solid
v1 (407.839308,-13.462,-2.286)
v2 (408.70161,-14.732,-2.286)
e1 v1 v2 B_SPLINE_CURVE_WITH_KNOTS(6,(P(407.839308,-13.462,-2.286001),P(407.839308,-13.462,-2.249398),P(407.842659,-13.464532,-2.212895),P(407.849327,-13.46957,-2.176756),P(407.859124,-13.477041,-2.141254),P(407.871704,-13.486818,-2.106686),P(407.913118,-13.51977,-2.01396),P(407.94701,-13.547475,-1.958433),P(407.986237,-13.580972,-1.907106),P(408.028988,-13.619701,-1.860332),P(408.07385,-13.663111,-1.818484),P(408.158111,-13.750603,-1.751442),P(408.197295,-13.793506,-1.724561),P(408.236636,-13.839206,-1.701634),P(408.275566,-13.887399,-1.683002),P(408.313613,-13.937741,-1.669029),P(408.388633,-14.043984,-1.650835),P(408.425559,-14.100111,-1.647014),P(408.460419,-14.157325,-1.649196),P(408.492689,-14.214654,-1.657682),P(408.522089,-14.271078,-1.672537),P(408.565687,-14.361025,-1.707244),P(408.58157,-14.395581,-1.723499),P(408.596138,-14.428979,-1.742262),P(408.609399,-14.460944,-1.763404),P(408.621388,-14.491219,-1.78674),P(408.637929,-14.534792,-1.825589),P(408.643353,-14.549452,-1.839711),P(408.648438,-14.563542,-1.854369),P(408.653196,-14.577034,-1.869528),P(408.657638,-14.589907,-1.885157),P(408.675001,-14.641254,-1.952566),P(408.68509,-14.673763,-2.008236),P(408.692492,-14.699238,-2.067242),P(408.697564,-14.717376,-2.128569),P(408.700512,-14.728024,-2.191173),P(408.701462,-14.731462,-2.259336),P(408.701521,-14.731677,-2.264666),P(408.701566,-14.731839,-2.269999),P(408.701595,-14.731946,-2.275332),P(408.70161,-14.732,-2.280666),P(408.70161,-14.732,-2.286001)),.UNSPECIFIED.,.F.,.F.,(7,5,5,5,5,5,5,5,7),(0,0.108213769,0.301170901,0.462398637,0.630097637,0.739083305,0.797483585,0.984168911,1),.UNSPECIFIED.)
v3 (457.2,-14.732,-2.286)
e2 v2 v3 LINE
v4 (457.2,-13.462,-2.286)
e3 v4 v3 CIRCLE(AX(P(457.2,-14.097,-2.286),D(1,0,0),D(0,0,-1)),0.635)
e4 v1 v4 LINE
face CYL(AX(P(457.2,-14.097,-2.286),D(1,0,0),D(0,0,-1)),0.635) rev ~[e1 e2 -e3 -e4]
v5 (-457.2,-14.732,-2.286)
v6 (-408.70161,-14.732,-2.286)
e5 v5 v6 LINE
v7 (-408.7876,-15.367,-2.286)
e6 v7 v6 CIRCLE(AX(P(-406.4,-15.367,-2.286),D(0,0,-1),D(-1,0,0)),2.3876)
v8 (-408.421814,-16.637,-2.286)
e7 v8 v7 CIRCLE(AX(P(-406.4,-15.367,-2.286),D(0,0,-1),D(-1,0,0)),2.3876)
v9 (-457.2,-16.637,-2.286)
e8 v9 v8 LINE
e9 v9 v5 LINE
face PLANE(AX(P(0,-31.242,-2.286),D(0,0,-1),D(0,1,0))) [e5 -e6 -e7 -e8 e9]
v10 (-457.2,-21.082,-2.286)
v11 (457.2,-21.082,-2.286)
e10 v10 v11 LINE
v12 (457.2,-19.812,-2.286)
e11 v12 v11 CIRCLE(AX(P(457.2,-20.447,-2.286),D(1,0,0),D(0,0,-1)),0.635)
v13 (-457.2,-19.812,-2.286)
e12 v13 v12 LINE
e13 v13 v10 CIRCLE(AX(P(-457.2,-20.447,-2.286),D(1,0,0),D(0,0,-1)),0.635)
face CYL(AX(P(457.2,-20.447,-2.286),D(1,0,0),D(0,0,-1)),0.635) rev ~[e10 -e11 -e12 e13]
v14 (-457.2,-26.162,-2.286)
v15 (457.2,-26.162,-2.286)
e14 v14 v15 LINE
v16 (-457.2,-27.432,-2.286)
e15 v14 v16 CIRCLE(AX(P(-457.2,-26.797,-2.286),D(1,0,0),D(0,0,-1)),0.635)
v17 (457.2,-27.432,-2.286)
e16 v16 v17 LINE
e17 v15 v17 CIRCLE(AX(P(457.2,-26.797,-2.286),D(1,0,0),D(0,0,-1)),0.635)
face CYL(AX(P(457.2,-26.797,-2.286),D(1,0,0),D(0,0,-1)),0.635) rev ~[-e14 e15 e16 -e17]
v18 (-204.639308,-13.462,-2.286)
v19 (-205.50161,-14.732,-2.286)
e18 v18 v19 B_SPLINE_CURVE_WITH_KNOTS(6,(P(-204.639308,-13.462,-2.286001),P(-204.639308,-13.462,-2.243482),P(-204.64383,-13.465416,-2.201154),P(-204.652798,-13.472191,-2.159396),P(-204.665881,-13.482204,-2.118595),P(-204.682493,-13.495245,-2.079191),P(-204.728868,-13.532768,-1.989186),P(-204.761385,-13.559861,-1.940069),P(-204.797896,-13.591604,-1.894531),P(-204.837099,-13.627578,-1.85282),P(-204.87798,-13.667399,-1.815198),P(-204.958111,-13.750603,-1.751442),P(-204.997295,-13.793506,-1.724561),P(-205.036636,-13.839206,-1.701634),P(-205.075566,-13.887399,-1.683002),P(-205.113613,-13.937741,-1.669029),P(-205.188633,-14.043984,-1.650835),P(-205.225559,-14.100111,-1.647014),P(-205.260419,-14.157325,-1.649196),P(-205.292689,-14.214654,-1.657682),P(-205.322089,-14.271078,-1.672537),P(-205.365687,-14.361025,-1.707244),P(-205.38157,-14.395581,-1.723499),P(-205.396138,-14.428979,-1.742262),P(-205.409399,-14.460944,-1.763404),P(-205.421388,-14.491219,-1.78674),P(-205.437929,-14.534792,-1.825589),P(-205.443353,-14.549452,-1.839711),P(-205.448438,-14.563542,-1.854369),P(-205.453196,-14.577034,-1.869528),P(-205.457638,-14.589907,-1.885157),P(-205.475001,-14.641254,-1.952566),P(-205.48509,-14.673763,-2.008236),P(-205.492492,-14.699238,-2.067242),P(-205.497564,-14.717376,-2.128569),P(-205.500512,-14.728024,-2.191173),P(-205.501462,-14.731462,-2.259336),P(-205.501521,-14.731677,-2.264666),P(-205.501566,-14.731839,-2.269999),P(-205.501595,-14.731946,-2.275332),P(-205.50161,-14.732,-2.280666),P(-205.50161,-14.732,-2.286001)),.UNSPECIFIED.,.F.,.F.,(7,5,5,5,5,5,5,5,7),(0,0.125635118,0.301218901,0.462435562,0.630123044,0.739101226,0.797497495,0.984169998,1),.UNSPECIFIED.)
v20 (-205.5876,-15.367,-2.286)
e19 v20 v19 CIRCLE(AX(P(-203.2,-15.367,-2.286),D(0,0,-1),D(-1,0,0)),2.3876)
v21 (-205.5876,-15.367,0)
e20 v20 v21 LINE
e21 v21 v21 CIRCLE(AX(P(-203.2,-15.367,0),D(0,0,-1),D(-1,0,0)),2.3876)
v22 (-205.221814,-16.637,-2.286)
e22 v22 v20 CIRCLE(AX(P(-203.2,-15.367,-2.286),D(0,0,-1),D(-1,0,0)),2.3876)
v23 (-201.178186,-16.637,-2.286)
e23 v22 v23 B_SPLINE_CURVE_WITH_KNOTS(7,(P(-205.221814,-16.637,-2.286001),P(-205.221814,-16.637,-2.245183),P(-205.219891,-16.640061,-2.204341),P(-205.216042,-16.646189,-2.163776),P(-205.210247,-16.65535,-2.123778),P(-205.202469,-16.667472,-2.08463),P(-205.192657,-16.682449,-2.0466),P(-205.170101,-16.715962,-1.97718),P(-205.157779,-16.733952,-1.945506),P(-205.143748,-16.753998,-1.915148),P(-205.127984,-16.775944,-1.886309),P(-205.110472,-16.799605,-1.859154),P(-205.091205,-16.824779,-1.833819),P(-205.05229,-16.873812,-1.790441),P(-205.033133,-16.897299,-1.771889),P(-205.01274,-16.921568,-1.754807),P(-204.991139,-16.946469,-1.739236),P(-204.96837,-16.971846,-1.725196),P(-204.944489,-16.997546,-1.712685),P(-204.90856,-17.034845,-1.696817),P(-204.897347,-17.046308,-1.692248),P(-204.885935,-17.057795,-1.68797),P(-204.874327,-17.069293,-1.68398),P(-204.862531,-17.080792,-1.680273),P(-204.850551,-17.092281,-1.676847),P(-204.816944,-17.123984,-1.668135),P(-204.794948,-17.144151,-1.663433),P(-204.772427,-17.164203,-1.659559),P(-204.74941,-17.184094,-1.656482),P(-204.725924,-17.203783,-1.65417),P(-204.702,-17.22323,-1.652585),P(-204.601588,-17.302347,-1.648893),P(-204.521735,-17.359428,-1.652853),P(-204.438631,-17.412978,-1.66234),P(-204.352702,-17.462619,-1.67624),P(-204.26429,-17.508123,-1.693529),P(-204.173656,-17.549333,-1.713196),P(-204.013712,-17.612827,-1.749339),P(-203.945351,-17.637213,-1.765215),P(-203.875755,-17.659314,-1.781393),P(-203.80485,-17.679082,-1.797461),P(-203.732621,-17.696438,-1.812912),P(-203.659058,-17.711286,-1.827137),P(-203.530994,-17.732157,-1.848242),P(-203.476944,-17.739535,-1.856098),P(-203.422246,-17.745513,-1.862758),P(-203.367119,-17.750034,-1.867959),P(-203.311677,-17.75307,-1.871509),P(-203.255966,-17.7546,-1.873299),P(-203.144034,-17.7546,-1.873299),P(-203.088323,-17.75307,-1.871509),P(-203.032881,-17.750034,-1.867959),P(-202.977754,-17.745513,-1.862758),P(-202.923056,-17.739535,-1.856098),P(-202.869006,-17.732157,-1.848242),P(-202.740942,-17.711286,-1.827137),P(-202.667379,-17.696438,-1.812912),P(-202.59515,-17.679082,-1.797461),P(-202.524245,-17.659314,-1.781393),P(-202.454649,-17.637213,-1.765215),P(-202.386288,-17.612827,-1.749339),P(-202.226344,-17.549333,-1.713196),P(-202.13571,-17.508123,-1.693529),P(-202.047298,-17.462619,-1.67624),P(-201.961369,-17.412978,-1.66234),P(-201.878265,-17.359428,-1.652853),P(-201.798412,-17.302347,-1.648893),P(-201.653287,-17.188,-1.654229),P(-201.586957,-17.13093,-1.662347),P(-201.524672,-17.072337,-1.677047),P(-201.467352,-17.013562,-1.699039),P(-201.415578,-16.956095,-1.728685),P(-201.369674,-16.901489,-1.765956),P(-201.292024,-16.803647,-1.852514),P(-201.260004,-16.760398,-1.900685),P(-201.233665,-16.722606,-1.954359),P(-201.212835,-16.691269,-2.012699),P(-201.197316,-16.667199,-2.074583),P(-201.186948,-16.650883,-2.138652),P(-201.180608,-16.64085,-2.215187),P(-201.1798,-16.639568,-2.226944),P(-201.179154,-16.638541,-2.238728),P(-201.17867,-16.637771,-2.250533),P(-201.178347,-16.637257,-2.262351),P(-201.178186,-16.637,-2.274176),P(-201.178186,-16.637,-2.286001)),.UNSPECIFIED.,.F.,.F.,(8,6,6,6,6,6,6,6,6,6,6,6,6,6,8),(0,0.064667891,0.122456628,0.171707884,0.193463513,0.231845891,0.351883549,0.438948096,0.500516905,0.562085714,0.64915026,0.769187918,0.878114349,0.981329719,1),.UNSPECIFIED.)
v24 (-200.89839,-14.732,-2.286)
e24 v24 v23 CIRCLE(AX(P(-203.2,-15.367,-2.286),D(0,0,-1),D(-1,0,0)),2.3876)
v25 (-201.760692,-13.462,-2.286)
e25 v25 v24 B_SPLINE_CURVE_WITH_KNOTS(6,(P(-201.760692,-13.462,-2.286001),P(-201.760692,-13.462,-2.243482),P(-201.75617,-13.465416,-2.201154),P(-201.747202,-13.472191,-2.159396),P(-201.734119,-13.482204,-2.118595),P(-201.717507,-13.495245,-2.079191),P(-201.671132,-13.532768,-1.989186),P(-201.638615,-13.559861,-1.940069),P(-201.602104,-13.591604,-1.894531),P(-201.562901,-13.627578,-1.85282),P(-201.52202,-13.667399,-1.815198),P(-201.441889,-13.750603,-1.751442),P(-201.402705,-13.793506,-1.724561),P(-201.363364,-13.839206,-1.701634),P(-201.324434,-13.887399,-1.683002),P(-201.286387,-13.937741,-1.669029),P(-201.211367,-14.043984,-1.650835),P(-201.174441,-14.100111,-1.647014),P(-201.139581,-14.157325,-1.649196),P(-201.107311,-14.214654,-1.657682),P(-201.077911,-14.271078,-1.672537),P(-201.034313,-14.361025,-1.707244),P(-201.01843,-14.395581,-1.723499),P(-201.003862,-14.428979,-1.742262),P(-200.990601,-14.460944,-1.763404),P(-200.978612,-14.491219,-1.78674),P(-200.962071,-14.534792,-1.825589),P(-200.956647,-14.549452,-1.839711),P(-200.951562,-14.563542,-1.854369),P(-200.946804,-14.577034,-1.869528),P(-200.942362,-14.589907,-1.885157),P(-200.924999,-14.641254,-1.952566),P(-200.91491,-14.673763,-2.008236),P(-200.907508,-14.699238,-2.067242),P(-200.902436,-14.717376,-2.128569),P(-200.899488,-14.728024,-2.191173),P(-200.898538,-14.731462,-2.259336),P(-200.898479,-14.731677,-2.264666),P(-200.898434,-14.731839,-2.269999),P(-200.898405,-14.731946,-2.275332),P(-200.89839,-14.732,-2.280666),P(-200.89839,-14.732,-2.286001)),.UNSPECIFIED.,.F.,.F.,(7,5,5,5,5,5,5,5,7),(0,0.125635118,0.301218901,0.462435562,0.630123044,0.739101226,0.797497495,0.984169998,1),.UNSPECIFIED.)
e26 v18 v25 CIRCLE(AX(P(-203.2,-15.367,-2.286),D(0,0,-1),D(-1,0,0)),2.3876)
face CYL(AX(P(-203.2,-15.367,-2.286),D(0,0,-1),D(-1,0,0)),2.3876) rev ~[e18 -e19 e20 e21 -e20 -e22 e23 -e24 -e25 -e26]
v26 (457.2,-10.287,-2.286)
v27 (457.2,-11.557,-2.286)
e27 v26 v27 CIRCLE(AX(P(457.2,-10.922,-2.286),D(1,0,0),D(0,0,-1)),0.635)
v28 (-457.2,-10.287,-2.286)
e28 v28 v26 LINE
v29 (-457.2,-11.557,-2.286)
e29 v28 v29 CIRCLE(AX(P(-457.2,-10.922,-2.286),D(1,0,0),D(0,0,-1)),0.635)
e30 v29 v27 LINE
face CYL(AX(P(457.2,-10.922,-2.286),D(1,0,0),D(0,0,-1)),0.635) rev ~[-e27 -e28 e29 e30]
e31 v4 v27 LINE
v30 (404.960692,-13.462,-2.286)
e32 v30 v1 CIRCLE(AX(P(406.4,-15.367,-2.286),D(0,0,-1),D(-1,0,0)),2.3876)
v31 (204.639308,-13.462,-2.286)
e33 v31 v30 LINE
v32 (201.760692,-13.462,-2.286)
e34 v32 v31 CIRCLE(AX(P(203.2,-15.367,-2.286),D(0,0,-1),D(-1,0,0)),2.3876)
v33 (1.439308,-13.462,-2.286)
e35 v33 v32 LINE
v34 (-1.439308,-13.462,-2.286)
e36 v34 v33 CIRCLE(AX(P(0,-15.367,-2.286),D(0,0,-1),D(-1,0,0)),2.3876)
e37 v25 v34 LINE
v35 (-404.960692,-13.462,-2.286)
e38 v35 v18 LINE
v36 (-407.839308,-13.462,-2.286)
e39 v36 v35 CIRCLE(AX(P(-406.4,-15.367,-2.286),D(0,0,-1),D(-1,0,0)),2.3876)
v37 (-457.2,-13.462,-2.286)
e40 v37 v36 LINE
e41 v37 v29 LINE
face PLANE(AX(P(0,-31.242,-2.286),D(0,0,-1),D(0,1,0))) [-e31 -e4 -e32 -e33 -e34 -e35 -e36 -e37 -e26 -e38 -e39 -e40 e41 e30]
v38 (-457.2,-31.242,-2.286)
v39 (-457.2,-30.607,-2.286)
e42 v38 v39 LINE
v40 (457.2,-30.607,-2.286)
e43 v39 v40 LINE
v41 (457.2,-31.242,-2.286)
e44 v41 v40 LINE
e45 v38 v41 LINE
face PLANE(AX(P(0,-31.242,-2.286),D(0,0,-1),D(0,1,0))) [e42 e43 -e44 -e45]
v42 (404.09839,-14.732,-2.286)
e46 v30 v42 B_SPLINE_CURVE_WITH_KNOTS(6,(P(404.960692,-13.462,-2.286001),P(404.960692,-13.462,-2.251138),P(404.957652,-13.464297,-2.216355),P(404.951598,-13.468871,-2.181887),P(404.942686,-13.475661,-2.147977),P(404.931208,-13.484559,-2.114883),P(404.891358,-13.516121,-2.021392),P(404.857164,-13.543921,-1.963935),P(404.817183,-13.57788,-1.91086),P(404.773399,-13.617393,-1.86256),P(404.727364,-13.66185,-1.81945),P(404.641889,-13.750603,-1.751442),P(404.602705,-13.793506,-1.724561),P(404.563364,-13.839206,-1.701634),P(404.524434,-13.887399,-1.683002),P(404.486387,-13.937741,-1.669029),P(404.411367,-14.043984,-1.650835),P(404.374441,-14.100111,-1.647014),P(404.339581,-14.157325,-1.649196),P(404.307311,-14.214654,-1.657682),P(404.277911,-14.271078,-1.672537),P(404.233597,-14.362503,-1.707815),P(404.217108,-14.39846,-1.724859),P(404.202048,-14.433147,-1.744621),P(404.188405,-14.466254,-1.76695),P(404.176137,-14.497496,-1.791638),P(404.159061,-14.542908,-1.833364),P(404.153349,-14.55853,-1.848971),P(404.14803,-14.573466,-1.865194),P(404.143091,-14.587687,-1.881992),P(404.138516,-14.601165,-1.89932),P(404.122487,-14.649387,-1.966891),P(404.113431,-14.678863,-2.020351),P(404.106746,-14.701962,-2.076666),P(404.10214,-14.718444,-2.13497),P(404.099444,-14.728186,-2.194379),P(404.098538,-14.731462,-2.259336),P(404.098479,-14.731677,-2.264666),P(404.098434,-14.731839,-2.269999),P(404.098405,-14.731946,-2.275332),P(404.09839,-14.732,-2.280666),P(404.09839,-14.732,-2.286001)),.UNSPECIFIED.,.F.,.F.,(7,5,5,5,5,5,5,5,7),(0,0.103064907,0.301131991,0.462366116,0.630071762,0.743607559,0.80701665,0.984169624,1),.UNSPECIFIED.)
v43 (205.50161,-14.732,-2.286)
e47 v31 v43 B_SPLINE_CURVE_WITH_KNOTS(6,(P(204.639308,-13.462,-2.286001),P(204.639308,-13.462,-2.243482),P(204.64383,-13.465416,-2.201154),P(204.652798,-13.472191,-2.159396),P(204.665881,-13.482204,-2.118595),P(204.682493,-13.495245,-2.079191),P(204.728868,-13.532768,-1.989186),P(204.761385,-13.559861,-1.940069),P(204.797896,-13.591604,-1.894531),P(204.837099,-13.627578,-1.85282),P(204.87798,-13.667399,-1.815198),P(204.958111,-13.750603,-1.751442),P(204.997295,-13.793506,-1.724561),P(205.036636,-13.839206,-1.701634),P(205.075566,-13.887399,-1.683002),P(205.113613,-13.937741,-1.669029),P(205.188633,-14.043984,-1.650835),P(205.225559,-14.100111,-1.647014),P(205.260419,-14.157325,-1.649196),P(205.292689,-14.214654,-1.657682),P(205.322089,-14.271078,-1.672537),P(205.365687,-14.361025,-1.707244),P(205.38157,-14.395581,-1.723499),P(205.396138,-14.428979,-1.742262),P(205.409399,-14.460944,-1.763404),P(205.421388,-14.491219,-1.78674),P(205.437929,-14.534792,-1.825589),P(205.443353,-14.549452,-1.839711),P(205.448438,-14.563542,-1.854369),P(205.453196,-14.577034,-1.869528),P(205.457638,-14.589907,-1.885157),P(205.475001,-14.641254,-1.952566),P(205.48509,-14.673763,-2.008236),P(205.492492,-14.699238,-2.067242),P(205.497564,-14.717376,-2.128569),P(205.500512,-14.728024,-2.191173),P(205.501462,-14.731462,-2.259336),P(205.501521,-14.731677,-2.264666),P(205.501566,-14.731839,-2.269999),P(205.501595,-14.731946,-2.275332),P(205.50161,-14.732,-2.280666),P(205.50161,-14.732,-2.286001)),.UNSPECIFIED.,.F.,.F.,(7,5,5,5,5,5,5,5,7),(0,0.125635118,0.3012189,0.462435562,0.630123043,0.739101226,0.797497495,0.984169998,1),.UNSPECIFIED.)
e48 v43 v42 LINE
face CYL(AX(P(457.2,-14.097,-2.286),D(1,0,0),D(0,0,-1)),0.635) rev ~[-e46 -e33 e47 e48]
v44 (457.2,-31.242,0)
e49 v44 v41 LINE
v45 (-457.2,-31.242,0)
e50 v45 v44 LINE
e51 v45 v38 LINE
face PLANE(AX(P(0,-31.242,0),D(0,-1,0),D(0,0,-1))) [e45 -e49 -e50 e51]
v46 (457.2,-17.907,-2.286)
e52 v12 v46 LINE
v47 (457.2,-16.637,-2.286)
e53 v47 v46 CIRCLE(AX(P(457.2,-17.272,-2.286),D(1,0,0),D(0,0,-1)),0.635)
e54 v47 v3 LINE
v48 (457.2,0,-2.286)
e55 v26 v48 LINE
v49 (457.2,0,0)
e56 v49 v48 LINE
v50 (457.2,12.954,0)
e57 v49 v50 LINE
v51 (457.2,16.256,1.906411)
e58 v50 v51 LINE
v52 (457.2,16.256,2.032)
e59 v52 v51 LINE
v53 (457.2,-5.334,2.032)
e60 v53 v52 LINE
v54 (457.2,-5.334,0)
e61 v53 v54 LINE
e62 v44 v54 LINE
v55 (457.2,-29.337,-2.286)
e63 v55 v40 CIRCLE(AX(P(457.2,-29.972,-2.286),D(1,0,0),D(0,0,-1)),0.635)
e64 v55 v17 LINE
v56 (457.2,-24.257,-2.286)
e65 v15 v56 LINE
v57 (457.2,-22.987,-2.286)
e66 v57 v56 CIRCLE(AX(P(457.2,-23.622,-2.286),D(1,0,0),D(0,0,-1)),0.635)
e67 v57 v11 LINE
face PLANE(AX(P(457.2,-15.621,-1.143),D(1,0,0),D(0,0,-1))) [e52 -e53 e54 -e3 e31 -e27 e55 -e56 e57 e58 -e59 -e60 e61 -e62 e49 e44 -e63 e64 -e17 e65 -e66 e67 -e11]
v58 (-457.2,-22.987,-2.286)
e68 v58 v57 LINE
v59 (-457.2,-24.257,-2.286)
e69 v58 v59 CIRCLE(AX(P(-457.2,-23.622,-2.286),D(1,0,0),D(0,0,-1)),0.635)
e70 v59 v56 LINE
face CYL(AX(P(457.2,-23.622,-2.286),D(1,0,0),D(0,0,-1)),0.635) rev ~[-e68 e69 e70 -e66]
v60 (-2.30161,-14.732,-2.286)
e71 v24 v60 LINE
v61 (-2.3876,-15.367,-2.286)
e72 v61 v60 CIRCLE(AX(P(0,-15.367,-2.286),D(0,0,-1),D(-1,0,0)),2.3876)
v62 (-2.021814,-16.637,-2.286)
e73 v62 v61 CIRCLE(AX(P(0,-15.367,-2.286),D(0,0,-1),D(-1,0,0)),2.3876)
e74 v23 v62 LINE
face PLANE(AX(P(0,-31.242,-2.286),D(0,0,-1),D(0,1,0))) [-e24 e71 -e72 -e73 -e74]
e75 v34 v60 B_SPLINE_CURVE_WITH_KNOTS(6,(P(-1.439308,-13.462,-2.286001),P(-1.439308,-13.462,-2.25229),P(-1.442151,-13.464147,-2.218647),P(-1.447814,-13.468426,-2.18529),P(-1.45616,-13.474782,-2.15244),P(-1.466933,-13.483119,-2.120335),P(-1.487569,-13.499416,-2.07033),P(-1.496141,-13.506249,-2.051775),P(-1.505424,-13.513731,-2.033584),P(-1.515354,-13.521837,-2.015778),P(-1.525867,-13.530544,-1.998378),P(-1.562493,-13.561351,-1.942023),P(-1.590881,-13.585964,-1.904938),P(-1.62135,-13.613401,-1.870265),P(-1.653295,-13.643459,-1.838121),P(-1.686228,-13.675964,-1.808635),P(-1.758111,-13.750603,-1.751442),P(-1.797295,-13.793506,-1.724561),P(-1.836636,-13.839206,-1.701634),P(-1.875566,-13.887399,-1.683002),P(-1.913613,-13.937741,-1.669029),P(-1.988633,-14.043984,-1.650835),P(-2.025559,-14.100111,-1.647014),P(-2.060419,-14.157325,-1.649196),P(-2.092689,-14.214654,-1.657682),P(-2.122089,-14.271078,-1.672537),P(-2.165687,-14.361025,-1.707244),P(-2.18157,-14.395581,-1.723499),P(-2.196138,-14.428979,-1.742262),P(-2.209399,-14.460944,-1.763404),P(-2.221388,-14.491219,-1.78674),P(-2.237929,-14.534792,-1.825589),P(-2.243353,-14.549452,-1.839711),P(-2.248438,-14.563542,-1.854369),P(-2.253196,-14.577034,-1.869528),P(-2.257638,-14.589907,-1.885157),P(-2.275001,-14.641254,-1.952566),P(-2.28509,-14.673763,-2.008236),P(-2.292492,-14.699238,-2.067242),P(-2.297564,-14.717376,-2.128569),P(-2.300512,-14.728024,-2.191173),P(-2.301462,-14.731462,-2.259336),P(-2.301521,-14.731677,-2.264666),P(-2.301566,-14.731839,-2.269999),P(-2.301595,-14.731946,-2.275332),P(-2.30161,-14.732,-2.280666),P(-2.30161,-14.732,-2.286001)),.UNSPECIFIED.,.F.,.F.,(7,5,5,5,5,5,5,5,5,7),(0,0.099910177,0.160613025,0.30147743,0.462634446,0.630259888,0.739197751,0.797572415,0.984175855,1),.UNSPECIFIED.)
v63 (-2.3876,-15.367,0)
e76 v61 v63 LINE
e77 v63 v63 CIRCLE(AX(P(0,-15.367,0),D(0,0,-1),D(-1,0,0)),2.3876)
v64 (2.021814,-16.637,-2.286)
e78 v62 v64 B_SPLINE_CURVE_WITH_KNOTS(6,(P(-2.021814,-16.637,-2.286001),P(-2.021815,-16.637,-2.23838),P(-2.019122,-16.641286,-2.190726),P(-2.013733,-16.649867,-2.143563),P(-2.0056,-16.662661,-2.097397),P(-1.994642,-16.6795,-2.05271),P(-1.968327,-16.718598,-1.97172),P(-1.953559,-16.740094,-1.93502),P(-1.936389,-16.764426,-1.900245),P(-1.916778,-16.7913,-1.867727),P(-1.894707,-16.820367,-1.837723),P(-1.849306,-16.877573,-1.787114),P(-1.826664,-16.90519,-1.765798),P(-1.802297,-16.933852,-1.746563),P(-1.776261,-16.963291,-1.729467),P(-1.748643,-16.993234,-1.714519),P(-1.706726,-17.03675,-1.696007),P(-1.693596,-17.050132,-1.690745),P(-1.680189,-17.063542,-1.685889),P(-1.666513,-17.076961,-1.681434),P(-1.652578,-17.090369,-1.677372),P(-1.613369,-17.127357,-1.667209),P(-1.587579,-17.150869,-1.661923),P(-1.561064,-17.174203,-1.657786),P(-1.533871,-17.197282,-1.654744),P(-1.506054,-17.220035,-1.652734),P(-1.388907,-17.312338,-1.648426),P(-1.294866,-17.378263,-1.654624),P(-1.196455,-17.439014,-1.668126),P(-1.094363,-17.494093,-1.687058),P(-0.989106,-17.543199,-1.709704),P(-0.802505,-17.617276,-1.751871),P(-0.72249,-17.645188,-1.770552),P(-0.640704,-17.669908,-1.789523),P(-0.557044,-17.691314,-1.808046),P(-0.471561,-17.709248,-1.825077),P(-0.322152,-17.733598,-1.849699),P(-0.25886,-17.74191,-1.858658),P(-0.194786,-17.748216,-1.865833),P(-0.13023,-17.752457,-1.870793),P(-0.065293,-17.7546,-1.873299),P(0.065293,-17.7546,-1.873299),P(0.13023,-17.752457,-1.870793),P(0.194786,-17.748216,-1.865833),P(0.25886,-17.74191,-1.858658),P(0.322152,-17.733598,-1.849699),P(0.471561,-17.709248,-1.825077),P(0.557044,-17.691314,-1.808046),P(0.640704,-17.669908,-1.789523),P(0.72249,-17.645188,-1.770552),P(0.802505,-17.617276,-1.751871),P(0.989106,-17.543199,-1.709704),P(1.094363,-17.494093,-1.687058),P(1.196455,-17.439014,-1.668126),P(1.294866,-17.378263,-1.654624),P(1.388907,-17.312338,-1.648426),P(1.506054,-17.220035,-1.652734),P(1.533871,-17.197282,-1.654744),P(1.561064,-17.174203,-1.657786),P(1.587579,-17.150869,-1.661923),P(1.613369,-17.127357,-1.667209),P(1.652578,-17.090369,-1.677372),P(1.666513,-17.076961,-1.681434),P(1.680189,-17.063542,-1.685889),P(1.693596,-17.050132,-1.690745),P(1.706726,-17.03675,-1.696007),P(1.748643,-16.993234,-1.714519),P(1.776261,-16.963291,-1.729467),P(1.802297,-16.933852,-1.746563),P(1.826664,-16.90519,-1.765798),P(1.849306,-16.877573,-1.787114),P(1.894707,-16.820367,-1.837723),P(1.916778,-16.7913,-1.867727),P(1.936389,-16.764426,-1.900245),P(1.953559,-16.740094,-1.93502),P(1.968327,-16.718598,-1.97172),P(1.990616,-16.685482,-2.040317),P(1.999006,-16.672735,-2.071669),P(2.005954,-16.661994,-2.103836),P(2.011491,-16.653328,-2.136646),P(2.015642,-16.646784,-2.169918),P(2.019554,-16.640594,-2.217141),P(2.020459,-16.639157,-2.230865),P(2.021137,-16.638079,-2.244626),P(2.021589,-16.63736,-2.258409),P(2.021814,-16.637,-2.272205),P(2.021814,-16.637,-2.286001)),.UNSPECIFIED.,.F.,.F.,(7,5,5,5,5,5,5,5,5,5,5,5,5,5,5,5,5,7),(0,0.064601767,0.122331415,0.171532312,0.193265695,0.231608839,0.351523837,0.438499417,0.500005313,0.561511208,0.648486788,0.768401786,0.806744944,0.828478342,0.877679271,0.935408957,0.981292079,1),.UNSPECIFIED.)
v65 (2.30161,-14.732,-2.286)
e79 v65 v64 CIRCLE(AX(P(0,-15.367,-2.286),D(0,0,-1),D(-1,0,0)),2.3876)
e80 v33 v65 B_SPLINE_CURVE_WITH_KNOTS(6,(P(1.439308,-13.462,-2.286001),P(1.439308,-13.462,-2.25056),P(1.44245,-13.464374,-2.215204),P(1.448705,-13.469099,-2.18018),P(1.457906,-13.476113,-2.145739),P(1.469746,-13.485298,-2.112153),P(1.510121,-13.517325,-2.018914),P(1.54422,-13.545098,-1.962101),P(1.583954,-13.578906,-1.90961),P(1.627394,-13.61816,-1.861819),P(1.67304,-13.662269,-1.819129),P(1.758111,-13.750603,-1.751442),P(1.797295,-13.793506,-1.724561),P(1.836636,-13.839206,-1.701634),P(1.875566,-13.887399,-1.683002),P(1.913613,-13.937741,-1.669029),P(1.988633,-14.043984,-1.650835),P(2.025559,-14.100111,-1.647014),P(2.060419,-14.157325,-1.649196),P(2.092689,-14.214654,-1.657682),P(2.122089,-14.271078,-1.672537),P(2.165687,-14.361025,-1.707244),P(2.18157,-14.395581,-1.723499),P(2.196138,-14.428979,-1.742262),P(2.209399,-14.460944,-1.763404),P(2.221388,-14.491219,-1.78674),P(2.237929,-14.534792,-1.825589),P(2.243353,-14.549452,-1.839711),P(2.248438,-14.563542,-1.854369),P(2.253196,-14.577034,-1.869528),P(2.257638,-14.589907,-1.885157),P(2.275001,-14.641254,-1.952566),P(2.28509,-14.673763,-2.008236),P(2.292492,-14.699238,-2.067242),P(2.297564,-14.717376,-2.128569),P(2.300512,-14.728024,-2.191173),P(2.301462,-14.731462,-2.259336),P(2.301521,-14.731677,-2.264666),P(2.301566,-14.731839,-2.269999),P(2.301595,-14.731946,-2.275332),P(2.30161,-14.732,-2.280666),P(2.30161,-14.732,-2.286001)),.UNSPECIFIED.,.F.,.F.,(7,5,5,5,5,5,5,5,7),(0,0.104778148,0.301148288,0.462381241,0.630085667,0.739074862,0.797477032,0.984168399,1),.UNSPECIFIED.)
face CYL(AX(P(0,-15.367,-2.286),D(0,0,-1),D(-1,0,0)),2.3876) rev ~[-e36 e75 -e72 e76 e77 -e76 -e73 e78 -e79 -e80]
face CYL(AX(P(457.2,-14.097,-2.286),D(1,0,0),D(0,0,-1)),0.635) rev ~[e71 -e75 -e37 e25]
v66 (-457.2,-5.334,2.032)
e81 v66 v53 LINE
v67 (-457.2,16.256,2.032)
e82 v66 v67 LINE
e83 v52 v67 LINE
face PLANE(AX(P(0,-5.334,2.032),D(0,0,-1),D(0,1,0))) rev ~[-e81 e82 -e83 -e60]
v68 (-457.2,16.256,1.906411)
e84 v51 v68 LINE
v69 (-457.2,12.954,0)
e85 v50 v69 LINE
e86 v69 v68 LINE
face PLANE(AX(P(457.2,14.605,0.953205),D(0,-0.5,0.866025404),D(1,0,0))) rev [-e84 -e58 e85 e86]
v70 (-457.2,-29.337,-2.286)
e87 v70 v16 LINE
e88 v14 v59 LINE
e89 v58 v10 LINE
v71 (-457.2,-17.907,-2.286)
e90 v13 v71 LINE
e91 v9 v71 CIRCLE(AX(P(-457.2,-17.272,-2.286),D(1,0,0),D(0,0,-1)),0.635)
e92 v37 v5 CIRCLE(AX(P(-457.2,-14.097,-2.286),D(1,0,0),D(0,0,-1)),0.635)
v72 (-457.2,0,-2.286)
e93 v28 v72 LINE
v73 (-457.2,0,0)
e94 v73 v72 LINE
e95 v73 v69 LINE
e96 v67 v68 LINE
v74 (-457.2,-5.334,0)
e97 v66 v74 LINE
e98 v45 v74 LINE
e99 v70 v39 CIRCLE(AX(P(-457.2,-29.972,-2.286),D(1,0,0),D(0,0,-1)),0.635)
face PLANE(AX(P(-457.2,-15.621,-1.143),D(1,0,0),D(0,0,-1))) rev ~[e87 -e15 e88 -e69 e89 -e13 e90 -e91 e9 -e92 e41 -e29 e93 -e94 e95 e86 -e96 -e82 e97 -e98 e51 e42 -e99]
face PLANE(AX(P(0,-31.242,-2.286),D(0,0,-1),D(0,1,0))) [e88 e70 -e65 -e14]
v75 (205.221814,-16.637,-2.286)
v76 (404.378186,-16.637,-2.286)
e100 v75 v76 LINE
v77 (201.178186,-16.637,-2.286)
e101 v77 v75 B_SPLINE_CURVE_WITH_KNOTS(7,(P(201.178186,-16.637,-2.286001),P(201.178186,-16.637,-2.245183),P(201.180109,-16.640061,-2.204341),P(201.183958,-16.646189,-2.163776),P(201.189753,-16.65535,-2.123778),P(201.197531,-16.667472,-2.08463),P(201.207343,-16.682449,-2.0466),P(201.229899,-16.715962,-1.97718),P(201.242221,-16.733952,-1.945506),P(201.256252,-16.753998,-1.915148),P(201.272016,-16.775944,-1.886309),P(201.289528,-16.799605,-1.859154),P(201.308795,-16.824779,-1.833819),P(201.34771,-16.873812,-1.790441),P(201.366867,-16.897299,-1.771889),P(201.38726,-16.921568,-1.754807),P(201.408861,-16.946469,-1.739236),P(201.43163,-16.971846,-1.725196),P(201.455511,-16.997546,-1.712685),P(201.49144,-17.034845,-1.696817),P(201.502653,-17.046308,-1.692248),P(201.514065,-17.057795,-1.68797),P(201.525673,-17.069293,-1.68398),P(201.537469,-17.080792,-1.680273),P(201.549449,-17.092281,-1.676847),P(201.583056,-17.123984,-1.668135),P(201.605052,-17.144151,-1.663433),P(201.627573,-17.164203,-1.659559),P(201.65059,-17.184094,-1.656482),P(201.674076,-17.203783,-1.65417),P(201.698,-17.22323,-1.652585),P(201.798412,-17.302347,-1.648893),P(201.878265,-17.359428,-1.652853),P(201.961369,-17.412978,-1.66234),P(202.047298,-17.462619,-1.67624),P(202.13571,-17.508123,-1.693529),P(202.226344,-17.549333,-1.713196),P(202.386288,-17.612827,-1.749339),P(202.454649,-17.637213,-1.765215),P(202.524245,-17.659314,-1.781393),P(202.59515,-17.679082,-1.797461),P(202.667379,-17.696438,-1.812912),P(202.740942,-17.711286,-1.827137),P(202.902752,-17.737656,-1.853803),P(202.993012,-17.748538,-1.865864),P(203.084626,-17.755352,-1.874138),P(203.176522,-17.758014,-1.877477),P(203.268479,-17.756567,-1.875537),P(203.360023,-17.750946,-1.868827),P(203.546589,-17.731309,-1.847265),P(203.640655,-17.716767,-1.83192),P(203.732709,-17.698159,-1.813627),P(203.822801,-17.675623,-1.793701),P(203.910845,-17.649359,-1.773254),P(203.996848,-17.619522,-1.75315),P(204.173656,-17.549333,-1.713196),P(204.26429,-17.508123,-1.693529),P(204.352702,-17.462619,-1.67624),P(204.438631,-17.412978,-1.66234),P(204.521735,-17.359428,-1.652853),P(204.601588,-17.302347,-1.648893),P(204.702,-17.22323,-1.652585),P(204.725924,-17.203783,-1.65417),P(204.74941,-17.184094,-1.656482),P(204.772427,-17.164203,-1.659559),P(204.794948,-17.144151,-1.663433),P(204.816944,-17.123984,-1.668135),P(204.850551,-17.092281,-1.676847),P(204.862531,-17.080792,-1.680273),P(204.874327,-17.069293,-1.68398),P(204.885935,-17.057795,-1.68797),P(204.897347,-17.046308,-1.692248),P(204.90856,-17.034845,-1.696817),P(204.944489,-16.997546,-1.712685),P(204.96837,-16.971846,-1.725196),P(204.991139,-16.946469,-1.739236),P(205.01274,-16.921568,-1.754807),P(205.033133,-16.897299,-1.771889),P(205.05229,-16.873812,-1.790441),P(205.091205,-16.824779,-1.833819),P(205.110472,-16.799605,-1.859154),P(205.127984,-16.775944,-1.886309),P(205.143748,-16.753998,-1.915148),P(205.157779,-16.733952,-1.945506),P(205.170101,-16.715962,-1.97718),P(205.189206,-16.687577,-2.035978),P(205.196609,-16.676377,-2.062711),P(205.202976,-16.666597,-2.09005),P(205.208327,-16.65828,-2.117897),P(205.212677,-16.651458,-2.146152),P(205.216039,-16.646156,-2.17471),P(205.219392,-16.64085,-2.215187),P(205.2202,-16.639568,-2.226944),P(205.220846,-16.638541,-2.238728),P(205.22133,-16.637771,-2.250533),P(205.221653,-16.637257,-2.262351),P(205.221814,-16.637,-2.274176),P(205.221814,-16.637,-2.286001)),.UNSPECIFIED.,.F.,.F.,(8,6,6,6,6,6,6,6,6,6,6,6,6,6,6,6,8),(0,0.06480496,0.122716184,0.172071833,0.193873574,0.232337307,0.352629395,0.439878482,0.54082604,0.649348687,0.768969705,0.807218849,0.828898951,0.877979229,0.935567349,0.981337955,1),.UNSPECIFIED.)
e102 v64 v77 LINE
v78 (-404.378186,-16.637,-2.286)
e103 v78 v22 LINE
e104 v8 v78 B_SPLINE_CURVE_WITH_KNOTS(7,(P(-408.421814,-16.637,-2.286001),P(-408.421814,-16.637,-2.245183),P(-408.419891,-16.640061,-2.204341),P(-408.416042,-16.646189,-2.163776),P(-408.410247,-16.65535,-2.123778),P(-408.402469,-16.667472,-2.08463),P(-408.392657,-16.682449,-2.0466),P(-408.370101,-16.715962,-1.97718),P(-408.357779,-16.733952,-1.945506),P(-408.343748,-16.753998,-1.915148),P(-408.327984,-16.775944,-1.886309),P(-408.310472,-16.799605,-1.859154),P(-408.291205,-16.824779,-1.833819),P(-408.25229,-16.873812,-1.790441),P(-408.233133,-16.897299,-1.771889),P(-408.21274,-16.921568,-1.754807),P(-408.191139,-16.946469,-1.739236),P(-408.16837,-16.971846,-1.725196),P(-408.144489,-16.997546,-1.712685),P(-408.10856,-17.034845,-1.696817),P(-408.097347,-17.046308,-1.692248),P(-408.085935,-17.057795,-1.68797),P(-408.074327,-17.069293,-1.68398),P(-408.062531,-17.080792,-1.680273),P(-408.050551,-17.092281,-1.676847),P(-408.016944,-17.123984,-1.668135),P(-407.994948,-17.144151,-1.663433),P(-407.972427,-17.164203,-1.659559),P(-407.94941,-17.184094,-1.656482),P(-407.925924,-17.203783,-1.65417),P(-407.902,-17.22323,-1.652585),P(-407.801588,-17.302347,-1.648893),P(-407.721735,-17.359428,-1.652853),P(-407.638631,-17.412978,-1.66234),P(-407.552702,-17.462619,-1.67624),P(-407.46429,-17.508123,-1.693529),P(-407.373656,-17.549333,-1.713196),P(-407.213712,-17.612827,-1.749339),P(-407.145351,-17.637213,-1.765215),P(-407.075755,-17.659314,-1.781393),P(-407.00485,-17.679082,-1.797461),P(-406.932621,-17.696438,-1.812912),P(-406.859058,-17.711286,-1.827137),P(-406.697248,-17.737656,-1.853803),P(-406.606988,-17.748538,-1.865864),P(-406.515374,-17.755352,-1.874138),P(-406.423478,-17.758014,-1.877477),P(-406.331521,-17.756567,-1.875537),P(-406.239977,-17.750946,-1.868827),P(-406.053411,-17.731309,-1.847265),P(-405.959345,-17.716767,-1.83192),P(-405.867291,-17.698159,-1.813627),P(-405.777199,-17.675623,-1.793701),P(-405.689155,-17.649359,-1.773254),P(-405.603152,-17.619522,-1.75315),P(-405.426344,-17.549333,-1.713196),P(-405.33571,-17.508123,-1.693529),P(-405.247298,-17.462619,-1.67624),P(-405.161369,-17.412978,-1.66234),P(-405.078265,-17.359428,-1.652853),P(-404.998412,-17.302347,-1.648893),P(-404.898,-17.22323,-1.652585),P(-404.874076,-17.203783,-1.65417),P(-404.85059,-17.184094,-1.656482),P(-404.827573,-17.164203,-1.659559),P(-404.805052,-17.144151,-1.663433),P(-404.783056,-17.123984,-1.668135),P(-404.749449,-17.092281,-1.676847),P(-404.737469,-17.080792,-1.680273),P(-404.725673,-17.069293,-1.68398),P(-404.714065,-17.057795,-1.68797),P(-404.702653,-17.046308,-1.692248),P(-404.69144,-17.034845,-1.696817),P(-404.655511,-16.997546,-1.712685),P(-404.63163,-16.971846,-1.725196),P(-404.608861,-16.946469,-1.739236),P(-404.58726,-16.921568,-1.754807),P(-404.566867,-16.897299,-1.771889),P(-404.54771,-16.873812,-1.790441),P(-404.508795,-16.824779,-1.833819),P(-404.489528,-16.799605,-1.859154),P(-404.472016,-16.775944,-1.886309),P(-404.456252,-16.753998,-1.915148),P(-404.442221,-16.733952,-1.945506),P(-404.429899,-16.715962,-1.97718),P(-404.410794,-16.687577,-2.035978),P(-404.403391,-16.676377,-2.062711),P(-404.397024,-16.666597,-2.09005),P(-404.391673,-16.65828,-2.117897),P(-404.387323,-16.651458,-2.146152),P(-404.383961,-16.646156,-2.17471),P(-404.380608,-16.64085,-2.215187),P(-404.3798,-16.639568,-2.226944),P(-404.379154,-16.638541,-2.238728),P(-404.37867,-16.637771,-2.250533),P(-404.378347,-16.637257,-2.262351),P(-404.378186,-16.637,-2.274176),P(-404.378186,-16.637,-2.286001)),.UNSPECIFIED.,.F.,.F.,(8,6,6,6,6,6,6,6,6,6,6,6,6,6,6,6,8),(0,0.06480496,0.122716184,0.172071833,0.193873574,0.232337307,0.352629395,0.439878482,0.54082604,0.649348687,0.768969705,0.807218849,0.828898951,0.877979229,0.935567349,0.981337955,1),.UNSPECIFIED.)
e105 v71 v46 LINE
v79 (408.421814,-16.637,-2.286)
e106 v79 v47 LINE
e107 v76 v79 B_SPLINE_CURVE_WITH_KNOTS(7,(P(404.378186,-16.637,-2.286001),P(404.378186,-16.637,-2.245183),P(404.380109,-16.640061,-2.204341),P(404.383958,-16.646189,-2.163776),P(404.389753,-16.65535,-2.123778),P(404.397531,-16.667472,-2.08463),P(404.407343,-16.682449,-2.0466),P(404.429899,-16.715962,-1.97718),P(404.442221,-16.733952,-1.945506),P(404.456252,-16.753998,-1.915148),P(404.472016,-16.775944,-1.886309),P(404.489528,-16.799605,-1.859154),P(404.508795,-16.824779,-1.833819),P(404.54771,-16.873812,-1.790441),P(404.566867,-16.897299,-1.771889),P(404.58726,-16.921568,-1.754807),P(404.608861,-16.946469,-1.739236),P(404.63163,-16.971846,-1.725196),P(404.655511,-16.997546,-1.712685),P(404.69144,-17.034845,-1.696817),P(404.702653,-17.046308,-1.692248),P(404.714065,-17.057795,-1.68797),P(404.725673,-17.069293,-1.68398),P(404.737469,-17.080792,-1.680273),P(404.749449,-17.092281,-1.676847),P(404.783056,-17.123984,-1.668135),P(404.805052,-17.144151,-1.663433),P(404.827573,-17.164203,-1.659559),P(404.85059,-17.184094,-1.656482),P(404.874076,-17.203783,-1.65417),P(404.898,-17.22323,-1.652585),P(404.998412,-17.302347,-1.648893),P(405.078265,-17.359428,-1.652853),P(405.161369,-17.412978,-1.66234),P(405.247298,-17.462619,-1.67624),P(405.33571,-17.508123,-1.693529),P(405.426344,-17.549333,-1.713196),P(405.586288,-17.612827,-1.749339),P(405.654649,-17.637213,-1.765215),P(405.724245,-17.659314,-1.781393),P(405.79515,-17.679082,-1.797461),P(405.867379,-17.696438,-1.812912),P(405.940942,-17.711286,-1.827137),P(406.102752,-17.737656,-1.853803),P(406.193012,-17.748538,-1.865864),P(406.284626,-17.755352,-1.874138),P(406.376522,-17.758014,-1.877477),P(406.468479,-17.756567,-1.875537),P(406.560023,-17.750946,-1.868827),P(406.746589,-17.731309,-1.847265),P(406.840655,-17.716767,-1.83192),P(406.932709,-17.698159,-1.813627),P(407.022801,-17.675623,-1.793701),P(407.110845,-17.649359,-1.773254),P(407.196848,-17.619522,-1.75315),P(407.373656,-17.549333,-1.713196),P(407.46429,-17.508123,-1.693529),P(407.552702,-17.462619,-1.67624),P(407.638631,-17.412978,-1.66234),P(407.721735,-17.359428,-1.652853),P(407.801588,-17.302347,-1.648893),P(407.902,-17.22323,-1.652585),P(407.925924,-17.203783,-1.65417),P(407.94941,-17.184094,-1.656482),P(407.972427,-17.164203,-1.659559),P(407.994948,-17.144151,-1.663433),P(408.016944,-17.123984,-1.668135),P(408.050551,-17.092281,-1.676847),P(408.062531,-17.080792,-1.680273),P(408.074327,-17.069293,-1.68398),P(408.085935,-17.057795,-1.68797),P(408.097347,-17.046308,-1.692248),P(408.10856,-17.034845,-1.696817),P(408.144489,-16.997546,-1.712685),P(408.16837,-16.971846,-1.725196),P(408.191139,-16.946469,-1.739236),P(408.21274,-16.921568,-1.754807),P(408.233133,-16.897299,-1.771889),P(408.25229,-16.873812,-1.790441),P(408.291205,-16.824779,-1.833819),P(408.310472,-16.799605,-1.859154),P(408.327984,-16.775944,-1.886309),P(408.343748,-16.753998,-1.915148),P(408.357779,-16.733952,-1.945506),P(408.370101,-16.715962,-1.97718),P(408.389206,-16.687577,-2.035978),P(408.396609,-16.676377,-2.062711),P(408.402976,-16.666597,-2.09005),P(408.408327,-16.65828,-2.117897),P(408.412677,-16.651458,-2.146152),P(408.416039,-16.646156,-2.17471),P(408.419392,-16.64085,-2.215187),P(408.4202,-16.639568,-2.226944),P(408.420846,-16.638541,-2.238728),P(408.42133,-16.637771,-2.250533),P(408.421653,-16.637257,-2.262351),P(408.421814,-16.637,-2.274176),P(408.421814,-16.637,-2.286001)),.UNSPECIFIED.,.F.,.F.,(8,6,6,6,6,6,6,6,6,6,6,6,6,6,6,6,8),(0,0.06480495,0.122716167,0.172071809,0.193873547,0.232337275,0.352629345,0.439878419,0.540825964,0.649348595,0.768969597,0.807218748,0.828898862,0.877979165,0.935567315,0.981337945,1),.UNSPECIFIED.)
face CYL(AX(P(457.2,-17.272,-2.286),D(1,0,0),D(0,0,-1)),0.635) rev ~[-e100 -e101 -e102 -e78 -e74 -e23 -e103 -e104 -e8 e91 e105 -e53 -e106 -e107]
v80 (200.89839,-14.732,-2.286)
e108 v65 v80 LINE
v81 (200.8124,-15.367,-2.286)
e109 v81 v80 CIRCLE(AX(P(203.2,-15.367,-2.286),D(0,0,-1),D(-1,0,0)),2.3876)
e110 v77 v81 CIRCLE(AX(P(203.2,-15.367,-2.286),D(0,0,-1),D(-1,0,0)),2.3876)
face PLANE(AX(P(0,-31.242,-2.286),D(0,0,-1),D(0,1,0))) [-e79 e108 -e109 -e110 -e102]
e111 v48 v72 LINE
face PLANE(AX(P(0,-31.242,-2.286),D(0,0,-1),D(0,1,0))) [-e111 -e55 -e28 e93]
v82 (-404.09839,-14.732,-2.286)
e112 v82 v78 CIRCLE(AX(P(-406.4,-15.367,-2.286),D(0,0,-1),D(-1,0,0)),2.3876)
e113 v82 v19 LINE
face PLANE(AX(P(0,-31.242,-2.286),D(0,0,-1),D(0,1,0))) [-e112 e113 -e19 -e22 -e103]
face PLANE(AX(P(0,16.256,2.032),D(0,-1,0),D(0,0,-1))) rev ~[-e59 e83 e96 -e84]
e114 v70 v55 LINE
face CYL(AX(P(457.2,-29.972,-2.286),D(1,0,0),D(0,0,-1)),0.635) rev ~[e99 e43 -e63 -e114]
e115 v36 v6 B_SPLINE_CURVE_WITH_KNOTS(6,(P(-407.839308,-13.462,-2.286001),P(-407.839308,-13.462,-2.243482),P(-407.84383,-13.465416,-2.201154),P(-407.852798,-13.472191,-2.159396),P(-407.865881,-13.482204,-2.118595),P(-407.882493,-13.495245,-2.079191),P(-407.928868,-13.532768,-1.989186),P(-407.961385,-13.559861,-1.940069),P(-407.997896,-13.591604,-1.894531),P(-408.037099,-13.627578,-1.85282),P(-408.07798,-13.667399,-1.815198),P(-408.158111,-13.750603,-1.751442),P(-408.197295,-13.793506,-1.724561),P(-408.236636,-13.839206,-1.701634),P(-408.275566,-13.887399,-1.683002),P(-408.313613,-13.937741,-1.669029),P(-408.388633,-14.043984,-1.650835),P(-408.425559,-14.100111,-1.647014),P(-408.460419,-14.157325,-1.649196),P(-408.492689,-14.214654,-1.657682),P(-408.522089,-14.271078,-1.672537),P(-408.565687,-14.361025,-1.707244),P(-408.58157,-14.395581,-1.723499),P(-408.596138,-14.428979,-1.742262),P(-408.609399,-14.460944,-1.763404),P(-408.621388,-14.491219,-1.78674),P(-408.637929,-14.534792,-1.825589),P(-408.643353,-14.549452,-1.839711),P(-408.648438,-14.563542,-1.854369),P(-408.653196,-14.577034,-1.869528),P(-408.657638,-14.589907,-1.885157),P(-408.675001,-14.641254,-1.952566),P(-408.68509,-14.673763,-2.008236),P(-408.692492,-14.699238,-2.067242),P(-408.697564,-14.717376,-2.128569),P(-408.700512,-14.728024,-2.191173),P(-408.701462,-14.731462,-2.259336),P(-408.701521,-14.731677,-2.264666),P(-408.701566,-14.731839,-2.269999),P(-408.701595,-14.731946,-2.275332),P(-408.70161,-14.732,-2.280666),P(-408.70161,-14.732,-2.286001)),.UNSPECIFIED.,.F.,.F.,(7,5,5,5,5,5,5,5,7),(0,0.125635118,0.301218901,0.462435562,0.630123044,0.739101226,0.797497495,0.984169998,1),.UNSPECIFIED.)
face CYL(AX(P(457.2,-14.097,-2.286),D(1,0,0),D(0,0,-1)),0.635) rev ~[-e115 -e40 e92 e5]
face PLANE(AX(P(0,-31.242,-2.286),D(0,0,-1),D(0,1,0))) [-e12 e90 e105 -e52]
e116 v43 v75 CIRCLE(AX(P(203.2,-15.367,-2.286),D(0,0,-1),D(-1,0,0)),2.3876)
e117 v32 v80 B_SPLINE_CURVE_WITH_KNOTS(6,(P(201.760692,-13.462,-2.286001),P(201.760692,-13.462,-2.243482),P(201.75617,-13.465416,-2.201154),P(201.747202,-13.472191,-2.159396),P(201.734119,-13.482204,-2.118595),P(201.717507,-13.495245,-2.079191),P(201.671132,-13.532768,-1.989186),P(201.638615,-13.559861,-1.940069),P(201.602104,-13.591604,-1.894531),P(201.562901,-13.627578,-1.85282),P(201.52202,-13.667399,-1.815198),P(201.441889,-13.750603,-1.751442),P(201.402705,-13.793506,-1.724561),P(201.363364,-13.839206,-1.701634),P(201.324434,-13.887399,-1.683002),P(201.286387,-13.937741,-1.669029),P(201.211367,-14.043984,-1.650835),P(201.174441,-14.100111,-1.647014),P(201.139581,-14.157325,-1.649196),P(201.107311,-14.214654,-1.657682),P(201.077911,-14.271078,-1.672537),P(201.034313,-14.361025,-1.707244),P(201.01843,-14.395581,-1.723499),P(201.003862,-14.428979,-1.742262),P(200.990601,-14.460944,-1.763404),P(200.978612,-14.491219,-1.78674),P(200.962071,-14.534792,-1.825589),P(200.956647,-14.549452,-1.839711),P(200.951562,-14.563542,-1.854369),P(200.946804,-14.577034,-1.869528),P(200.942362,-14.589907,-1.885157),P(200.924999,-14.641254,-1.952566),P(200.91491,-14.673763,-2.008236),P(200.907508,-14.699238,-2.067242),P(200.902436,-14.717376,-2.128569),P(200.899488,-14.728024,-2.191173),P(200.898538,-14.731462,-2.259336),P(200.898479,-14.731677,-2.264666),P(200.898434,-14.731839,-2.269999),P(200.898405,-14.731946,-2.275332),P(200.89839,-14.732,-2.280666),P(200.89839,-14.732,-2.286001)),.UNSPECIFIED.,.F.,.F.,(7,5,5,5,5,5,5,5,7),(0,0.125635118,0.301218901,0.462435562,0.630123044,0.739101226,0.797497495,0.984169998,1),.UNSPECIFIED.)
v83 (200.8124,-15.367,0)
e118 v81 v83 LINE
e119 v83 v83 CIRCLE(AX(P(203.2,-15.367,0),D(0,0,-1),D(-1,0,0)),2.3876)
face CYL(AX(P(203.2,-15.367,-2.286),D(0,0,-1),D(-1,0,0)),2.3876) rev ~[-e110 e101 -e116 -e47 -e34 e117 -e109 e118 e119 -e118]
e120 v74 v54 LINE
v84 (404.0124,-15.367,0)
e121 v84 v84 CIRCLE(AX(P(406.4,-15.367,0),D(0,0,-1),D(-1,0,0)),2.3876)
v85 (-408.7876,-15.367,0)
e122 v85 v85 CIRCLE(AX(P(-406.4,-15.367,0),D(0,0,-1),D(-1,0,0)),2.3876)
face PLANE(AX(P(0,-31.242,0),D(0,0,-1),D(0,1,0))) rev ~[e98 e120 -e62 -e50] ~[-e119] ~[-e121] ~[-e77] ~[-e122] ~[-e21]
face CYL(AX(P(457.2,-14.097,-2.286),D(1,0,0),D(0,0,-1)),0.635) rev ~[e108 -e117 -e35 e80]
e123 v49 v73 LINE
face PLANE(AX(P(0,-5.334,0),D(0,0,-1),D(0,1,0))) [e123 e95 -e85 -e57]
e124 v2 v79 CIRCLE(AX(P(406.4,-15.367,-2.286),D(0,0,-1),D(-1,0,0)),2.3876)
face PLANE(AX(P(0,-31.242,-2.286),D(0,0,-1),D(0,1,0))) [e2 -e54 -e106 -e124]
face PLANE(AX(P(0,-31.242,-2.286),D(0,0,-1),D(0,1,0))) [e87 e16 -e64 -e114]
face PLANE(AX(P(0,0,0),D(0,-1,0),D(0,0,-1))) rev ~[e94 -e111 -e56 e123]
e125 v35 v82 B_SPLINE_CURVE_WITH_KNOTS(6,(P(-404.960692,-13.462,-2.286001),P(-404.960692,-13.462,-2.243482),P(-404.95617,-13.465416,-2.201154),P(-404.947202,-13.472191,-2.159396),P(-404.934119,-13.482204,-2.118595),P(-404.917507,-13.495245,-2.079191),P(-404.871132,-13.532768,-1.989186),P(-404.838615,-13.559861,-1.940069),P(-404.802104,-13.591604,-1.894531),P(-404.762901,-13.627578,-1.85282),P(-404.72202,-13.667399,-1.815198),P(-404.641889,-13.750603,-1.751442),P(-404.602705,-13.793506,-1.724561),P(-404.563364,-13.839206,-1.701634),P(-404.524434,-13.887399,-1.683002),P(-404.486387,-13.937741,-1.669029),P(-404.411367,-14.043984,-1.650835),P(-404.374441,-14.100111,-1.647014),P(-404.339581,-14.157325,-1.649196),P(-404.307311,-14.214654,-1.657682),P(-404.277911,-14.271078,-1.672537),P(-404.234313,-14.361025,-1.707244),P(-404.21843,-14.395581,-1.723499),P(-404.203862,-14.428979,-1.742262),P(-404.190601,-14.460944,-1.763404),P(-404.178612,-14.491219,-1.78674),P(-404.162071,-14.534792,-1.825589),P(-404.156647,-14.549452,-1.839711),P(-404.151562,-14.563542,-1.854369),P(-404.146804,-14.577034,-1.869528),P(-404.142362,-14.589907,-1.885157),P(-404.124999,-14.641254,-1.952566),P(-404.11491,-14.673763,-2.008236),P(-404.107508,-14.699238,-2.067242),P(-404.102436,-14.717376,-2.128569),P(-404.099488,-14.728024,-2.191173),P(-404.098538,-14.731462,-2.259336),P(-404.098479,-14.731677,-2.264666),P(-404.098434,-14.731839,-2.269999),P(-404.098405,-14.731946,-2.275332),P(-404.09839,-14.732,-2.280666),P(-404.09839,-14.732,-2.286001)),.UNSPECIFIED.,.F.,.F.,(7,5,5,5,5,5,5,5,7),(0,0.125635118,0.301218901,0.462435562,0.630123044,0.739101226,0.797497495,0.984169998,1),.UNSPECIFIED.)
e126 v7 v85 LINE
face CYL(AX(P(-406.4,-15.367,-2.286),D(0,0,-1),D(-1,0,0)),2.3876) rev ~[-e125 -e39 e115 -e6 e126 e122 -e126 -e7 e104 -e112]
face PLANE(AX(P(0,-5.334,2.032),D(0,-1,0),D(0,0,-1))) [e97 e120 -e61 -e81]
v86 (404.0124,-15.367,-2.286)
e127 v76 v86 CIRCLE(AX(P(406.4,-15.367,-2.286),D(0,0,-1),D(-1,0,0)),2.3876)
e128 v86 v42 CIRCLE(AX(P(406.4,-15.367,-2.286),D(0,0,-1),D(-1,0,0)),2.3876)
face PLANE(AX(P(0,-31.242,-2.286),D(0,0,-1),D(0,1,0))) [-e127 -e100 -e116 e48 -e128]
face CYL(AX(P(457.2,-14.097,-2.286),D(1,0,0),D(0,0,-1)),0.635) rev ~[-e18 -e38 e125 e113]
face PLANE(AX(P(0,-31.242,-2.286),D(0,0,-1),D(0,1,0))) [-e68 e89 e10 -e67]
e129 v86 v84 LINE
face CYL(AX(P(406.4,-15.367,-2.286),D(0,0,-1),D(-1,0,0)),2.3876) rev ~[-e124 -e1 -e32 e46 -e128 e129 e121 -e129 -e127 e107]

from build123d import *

# Parameters (mm, degrees)
SKETCH1_W            = 2.032
SKETCH1_H            = 21.59
EXTRUDE_THIN1_DEPTH  = 457.2
SKETCH2_W            = 2.286
SKETCH2_H            = 31.242
EXTRUDE_THIN2_DEPTH  = 457.2
CHAMFER1_SIZE        = 3.302
CHAMFER1_SIZE2       = 1.906410589
SKETCH3_R            = 2.3876
CUT_EXTRUDE1_DEPTH   = 2.286
LPATTERN2_COUNT      = 5
LPATTERN2_PITCH      = 203.2
LPATTERN2_COUNT_DIR2 = 5
LPATTERN2_PITCH_DIR2 = 203.2
SKETCH4_R            = 0.635
CUT_EXTRUDE2_DEPTH   = 915.93641766
LPATTERN1_COUNT      = 7
LPATTERN1_PITCH      = 3.175


with BuildPart() as part:
    # Sketch1 → Extrude-Thin1 (new, symmetric)
    with BuildSketch(Plane(origin=(0, 0, 0), x_dir=(0, 0, -1), z_dir=(1, 0, 0))):
        with Locations((-1.016, 5.461)):
            Rectangle(SKETCH1_W, SKETCH1_H)
    extrude(amount=EXTRUDE_THIN1_DEPTH, both=True)

    # Sketch2 → Extrude-Thin2 (add, symmetric)
    with BuildSketch(Plane(origin=(0, 0, 0), x_dir=(0, 0, -1), z_dir=(1, 0, 0))):
        with Locations((1.143, -15.621)):
            Rectangle(SKETCH2_W, SKETCH2_H)
    extrude(amount=EXTRUDE_THIN2_DEPTH, both=True)

    # Chamfer1
    chamfer1_edges = [part.edges().sort_by_distance(p)[0] for p in [
        (0, 16.256, 0),
    ]]
    chamfer1_side = [part.faces().sort_by_distance(p)[0] for p in [
        (0, 8.128, 0),
    ]]
    chamfer(chamfer1_edges, length=CHAMFER1_SIZE, length2=CHAMFER1_SIZE2, reference=chamfer1_side[0])

    # Sketch3 → Cut-Extrude1 (cut)
    with BuildSketch(Plane(origin=(0, 0, -2.286), x_dir=(-1, 0, 0), z_dir=(0, 0, -1))):
        with Locations((0, -15.367)):
            Circle(SKETCH3_R)
    cut_extrude1 = extrude(amount=-CUT_EXTRUDE1_DEPTH, mode=Mode.SUBTRACT)

    # LPattern2: Cut-Extrude1 5 × 5
    with Locations(*[Vector(-1, 0, 0) * (i * LPATTERN2_PITCH) + Vector(1, 0, 0) * (j * LPATTERN2_PITCH_DIR2) for i in range(LPATTERN2_COUNT) for j in range(LPATTERN2_COUNT_DIR2) if (i, j) != (0, 0)]):
        add(cut_extrude1, mode=Mode.SUBTRACT)

    # Sketch4 → Cut-Extrude2 (cut, through all)
    with BuildSketch(Plane(origin=(457.2, 0, 0), x_dir=(0, 0, -1), z_dir=(1, 0, 0))):
        with Locations((2.286, -29.972)):
            Circle(SKETCH4_R)
    cut_extrude2 = extrude(amount=-CUT_EXTRUDE2_DEPTH, mode=Mode.SUBTRACT)

    # LPattern1: Cut-Extrude2 ×7
    with Locations(*[(0, i * LPATTERN1_PITCH, 0) for i in range(1, LPATTERN1_COUNT)]):
        add(cut_extrude2, mode=Mode.SUBTRACT)


solid = part.part
